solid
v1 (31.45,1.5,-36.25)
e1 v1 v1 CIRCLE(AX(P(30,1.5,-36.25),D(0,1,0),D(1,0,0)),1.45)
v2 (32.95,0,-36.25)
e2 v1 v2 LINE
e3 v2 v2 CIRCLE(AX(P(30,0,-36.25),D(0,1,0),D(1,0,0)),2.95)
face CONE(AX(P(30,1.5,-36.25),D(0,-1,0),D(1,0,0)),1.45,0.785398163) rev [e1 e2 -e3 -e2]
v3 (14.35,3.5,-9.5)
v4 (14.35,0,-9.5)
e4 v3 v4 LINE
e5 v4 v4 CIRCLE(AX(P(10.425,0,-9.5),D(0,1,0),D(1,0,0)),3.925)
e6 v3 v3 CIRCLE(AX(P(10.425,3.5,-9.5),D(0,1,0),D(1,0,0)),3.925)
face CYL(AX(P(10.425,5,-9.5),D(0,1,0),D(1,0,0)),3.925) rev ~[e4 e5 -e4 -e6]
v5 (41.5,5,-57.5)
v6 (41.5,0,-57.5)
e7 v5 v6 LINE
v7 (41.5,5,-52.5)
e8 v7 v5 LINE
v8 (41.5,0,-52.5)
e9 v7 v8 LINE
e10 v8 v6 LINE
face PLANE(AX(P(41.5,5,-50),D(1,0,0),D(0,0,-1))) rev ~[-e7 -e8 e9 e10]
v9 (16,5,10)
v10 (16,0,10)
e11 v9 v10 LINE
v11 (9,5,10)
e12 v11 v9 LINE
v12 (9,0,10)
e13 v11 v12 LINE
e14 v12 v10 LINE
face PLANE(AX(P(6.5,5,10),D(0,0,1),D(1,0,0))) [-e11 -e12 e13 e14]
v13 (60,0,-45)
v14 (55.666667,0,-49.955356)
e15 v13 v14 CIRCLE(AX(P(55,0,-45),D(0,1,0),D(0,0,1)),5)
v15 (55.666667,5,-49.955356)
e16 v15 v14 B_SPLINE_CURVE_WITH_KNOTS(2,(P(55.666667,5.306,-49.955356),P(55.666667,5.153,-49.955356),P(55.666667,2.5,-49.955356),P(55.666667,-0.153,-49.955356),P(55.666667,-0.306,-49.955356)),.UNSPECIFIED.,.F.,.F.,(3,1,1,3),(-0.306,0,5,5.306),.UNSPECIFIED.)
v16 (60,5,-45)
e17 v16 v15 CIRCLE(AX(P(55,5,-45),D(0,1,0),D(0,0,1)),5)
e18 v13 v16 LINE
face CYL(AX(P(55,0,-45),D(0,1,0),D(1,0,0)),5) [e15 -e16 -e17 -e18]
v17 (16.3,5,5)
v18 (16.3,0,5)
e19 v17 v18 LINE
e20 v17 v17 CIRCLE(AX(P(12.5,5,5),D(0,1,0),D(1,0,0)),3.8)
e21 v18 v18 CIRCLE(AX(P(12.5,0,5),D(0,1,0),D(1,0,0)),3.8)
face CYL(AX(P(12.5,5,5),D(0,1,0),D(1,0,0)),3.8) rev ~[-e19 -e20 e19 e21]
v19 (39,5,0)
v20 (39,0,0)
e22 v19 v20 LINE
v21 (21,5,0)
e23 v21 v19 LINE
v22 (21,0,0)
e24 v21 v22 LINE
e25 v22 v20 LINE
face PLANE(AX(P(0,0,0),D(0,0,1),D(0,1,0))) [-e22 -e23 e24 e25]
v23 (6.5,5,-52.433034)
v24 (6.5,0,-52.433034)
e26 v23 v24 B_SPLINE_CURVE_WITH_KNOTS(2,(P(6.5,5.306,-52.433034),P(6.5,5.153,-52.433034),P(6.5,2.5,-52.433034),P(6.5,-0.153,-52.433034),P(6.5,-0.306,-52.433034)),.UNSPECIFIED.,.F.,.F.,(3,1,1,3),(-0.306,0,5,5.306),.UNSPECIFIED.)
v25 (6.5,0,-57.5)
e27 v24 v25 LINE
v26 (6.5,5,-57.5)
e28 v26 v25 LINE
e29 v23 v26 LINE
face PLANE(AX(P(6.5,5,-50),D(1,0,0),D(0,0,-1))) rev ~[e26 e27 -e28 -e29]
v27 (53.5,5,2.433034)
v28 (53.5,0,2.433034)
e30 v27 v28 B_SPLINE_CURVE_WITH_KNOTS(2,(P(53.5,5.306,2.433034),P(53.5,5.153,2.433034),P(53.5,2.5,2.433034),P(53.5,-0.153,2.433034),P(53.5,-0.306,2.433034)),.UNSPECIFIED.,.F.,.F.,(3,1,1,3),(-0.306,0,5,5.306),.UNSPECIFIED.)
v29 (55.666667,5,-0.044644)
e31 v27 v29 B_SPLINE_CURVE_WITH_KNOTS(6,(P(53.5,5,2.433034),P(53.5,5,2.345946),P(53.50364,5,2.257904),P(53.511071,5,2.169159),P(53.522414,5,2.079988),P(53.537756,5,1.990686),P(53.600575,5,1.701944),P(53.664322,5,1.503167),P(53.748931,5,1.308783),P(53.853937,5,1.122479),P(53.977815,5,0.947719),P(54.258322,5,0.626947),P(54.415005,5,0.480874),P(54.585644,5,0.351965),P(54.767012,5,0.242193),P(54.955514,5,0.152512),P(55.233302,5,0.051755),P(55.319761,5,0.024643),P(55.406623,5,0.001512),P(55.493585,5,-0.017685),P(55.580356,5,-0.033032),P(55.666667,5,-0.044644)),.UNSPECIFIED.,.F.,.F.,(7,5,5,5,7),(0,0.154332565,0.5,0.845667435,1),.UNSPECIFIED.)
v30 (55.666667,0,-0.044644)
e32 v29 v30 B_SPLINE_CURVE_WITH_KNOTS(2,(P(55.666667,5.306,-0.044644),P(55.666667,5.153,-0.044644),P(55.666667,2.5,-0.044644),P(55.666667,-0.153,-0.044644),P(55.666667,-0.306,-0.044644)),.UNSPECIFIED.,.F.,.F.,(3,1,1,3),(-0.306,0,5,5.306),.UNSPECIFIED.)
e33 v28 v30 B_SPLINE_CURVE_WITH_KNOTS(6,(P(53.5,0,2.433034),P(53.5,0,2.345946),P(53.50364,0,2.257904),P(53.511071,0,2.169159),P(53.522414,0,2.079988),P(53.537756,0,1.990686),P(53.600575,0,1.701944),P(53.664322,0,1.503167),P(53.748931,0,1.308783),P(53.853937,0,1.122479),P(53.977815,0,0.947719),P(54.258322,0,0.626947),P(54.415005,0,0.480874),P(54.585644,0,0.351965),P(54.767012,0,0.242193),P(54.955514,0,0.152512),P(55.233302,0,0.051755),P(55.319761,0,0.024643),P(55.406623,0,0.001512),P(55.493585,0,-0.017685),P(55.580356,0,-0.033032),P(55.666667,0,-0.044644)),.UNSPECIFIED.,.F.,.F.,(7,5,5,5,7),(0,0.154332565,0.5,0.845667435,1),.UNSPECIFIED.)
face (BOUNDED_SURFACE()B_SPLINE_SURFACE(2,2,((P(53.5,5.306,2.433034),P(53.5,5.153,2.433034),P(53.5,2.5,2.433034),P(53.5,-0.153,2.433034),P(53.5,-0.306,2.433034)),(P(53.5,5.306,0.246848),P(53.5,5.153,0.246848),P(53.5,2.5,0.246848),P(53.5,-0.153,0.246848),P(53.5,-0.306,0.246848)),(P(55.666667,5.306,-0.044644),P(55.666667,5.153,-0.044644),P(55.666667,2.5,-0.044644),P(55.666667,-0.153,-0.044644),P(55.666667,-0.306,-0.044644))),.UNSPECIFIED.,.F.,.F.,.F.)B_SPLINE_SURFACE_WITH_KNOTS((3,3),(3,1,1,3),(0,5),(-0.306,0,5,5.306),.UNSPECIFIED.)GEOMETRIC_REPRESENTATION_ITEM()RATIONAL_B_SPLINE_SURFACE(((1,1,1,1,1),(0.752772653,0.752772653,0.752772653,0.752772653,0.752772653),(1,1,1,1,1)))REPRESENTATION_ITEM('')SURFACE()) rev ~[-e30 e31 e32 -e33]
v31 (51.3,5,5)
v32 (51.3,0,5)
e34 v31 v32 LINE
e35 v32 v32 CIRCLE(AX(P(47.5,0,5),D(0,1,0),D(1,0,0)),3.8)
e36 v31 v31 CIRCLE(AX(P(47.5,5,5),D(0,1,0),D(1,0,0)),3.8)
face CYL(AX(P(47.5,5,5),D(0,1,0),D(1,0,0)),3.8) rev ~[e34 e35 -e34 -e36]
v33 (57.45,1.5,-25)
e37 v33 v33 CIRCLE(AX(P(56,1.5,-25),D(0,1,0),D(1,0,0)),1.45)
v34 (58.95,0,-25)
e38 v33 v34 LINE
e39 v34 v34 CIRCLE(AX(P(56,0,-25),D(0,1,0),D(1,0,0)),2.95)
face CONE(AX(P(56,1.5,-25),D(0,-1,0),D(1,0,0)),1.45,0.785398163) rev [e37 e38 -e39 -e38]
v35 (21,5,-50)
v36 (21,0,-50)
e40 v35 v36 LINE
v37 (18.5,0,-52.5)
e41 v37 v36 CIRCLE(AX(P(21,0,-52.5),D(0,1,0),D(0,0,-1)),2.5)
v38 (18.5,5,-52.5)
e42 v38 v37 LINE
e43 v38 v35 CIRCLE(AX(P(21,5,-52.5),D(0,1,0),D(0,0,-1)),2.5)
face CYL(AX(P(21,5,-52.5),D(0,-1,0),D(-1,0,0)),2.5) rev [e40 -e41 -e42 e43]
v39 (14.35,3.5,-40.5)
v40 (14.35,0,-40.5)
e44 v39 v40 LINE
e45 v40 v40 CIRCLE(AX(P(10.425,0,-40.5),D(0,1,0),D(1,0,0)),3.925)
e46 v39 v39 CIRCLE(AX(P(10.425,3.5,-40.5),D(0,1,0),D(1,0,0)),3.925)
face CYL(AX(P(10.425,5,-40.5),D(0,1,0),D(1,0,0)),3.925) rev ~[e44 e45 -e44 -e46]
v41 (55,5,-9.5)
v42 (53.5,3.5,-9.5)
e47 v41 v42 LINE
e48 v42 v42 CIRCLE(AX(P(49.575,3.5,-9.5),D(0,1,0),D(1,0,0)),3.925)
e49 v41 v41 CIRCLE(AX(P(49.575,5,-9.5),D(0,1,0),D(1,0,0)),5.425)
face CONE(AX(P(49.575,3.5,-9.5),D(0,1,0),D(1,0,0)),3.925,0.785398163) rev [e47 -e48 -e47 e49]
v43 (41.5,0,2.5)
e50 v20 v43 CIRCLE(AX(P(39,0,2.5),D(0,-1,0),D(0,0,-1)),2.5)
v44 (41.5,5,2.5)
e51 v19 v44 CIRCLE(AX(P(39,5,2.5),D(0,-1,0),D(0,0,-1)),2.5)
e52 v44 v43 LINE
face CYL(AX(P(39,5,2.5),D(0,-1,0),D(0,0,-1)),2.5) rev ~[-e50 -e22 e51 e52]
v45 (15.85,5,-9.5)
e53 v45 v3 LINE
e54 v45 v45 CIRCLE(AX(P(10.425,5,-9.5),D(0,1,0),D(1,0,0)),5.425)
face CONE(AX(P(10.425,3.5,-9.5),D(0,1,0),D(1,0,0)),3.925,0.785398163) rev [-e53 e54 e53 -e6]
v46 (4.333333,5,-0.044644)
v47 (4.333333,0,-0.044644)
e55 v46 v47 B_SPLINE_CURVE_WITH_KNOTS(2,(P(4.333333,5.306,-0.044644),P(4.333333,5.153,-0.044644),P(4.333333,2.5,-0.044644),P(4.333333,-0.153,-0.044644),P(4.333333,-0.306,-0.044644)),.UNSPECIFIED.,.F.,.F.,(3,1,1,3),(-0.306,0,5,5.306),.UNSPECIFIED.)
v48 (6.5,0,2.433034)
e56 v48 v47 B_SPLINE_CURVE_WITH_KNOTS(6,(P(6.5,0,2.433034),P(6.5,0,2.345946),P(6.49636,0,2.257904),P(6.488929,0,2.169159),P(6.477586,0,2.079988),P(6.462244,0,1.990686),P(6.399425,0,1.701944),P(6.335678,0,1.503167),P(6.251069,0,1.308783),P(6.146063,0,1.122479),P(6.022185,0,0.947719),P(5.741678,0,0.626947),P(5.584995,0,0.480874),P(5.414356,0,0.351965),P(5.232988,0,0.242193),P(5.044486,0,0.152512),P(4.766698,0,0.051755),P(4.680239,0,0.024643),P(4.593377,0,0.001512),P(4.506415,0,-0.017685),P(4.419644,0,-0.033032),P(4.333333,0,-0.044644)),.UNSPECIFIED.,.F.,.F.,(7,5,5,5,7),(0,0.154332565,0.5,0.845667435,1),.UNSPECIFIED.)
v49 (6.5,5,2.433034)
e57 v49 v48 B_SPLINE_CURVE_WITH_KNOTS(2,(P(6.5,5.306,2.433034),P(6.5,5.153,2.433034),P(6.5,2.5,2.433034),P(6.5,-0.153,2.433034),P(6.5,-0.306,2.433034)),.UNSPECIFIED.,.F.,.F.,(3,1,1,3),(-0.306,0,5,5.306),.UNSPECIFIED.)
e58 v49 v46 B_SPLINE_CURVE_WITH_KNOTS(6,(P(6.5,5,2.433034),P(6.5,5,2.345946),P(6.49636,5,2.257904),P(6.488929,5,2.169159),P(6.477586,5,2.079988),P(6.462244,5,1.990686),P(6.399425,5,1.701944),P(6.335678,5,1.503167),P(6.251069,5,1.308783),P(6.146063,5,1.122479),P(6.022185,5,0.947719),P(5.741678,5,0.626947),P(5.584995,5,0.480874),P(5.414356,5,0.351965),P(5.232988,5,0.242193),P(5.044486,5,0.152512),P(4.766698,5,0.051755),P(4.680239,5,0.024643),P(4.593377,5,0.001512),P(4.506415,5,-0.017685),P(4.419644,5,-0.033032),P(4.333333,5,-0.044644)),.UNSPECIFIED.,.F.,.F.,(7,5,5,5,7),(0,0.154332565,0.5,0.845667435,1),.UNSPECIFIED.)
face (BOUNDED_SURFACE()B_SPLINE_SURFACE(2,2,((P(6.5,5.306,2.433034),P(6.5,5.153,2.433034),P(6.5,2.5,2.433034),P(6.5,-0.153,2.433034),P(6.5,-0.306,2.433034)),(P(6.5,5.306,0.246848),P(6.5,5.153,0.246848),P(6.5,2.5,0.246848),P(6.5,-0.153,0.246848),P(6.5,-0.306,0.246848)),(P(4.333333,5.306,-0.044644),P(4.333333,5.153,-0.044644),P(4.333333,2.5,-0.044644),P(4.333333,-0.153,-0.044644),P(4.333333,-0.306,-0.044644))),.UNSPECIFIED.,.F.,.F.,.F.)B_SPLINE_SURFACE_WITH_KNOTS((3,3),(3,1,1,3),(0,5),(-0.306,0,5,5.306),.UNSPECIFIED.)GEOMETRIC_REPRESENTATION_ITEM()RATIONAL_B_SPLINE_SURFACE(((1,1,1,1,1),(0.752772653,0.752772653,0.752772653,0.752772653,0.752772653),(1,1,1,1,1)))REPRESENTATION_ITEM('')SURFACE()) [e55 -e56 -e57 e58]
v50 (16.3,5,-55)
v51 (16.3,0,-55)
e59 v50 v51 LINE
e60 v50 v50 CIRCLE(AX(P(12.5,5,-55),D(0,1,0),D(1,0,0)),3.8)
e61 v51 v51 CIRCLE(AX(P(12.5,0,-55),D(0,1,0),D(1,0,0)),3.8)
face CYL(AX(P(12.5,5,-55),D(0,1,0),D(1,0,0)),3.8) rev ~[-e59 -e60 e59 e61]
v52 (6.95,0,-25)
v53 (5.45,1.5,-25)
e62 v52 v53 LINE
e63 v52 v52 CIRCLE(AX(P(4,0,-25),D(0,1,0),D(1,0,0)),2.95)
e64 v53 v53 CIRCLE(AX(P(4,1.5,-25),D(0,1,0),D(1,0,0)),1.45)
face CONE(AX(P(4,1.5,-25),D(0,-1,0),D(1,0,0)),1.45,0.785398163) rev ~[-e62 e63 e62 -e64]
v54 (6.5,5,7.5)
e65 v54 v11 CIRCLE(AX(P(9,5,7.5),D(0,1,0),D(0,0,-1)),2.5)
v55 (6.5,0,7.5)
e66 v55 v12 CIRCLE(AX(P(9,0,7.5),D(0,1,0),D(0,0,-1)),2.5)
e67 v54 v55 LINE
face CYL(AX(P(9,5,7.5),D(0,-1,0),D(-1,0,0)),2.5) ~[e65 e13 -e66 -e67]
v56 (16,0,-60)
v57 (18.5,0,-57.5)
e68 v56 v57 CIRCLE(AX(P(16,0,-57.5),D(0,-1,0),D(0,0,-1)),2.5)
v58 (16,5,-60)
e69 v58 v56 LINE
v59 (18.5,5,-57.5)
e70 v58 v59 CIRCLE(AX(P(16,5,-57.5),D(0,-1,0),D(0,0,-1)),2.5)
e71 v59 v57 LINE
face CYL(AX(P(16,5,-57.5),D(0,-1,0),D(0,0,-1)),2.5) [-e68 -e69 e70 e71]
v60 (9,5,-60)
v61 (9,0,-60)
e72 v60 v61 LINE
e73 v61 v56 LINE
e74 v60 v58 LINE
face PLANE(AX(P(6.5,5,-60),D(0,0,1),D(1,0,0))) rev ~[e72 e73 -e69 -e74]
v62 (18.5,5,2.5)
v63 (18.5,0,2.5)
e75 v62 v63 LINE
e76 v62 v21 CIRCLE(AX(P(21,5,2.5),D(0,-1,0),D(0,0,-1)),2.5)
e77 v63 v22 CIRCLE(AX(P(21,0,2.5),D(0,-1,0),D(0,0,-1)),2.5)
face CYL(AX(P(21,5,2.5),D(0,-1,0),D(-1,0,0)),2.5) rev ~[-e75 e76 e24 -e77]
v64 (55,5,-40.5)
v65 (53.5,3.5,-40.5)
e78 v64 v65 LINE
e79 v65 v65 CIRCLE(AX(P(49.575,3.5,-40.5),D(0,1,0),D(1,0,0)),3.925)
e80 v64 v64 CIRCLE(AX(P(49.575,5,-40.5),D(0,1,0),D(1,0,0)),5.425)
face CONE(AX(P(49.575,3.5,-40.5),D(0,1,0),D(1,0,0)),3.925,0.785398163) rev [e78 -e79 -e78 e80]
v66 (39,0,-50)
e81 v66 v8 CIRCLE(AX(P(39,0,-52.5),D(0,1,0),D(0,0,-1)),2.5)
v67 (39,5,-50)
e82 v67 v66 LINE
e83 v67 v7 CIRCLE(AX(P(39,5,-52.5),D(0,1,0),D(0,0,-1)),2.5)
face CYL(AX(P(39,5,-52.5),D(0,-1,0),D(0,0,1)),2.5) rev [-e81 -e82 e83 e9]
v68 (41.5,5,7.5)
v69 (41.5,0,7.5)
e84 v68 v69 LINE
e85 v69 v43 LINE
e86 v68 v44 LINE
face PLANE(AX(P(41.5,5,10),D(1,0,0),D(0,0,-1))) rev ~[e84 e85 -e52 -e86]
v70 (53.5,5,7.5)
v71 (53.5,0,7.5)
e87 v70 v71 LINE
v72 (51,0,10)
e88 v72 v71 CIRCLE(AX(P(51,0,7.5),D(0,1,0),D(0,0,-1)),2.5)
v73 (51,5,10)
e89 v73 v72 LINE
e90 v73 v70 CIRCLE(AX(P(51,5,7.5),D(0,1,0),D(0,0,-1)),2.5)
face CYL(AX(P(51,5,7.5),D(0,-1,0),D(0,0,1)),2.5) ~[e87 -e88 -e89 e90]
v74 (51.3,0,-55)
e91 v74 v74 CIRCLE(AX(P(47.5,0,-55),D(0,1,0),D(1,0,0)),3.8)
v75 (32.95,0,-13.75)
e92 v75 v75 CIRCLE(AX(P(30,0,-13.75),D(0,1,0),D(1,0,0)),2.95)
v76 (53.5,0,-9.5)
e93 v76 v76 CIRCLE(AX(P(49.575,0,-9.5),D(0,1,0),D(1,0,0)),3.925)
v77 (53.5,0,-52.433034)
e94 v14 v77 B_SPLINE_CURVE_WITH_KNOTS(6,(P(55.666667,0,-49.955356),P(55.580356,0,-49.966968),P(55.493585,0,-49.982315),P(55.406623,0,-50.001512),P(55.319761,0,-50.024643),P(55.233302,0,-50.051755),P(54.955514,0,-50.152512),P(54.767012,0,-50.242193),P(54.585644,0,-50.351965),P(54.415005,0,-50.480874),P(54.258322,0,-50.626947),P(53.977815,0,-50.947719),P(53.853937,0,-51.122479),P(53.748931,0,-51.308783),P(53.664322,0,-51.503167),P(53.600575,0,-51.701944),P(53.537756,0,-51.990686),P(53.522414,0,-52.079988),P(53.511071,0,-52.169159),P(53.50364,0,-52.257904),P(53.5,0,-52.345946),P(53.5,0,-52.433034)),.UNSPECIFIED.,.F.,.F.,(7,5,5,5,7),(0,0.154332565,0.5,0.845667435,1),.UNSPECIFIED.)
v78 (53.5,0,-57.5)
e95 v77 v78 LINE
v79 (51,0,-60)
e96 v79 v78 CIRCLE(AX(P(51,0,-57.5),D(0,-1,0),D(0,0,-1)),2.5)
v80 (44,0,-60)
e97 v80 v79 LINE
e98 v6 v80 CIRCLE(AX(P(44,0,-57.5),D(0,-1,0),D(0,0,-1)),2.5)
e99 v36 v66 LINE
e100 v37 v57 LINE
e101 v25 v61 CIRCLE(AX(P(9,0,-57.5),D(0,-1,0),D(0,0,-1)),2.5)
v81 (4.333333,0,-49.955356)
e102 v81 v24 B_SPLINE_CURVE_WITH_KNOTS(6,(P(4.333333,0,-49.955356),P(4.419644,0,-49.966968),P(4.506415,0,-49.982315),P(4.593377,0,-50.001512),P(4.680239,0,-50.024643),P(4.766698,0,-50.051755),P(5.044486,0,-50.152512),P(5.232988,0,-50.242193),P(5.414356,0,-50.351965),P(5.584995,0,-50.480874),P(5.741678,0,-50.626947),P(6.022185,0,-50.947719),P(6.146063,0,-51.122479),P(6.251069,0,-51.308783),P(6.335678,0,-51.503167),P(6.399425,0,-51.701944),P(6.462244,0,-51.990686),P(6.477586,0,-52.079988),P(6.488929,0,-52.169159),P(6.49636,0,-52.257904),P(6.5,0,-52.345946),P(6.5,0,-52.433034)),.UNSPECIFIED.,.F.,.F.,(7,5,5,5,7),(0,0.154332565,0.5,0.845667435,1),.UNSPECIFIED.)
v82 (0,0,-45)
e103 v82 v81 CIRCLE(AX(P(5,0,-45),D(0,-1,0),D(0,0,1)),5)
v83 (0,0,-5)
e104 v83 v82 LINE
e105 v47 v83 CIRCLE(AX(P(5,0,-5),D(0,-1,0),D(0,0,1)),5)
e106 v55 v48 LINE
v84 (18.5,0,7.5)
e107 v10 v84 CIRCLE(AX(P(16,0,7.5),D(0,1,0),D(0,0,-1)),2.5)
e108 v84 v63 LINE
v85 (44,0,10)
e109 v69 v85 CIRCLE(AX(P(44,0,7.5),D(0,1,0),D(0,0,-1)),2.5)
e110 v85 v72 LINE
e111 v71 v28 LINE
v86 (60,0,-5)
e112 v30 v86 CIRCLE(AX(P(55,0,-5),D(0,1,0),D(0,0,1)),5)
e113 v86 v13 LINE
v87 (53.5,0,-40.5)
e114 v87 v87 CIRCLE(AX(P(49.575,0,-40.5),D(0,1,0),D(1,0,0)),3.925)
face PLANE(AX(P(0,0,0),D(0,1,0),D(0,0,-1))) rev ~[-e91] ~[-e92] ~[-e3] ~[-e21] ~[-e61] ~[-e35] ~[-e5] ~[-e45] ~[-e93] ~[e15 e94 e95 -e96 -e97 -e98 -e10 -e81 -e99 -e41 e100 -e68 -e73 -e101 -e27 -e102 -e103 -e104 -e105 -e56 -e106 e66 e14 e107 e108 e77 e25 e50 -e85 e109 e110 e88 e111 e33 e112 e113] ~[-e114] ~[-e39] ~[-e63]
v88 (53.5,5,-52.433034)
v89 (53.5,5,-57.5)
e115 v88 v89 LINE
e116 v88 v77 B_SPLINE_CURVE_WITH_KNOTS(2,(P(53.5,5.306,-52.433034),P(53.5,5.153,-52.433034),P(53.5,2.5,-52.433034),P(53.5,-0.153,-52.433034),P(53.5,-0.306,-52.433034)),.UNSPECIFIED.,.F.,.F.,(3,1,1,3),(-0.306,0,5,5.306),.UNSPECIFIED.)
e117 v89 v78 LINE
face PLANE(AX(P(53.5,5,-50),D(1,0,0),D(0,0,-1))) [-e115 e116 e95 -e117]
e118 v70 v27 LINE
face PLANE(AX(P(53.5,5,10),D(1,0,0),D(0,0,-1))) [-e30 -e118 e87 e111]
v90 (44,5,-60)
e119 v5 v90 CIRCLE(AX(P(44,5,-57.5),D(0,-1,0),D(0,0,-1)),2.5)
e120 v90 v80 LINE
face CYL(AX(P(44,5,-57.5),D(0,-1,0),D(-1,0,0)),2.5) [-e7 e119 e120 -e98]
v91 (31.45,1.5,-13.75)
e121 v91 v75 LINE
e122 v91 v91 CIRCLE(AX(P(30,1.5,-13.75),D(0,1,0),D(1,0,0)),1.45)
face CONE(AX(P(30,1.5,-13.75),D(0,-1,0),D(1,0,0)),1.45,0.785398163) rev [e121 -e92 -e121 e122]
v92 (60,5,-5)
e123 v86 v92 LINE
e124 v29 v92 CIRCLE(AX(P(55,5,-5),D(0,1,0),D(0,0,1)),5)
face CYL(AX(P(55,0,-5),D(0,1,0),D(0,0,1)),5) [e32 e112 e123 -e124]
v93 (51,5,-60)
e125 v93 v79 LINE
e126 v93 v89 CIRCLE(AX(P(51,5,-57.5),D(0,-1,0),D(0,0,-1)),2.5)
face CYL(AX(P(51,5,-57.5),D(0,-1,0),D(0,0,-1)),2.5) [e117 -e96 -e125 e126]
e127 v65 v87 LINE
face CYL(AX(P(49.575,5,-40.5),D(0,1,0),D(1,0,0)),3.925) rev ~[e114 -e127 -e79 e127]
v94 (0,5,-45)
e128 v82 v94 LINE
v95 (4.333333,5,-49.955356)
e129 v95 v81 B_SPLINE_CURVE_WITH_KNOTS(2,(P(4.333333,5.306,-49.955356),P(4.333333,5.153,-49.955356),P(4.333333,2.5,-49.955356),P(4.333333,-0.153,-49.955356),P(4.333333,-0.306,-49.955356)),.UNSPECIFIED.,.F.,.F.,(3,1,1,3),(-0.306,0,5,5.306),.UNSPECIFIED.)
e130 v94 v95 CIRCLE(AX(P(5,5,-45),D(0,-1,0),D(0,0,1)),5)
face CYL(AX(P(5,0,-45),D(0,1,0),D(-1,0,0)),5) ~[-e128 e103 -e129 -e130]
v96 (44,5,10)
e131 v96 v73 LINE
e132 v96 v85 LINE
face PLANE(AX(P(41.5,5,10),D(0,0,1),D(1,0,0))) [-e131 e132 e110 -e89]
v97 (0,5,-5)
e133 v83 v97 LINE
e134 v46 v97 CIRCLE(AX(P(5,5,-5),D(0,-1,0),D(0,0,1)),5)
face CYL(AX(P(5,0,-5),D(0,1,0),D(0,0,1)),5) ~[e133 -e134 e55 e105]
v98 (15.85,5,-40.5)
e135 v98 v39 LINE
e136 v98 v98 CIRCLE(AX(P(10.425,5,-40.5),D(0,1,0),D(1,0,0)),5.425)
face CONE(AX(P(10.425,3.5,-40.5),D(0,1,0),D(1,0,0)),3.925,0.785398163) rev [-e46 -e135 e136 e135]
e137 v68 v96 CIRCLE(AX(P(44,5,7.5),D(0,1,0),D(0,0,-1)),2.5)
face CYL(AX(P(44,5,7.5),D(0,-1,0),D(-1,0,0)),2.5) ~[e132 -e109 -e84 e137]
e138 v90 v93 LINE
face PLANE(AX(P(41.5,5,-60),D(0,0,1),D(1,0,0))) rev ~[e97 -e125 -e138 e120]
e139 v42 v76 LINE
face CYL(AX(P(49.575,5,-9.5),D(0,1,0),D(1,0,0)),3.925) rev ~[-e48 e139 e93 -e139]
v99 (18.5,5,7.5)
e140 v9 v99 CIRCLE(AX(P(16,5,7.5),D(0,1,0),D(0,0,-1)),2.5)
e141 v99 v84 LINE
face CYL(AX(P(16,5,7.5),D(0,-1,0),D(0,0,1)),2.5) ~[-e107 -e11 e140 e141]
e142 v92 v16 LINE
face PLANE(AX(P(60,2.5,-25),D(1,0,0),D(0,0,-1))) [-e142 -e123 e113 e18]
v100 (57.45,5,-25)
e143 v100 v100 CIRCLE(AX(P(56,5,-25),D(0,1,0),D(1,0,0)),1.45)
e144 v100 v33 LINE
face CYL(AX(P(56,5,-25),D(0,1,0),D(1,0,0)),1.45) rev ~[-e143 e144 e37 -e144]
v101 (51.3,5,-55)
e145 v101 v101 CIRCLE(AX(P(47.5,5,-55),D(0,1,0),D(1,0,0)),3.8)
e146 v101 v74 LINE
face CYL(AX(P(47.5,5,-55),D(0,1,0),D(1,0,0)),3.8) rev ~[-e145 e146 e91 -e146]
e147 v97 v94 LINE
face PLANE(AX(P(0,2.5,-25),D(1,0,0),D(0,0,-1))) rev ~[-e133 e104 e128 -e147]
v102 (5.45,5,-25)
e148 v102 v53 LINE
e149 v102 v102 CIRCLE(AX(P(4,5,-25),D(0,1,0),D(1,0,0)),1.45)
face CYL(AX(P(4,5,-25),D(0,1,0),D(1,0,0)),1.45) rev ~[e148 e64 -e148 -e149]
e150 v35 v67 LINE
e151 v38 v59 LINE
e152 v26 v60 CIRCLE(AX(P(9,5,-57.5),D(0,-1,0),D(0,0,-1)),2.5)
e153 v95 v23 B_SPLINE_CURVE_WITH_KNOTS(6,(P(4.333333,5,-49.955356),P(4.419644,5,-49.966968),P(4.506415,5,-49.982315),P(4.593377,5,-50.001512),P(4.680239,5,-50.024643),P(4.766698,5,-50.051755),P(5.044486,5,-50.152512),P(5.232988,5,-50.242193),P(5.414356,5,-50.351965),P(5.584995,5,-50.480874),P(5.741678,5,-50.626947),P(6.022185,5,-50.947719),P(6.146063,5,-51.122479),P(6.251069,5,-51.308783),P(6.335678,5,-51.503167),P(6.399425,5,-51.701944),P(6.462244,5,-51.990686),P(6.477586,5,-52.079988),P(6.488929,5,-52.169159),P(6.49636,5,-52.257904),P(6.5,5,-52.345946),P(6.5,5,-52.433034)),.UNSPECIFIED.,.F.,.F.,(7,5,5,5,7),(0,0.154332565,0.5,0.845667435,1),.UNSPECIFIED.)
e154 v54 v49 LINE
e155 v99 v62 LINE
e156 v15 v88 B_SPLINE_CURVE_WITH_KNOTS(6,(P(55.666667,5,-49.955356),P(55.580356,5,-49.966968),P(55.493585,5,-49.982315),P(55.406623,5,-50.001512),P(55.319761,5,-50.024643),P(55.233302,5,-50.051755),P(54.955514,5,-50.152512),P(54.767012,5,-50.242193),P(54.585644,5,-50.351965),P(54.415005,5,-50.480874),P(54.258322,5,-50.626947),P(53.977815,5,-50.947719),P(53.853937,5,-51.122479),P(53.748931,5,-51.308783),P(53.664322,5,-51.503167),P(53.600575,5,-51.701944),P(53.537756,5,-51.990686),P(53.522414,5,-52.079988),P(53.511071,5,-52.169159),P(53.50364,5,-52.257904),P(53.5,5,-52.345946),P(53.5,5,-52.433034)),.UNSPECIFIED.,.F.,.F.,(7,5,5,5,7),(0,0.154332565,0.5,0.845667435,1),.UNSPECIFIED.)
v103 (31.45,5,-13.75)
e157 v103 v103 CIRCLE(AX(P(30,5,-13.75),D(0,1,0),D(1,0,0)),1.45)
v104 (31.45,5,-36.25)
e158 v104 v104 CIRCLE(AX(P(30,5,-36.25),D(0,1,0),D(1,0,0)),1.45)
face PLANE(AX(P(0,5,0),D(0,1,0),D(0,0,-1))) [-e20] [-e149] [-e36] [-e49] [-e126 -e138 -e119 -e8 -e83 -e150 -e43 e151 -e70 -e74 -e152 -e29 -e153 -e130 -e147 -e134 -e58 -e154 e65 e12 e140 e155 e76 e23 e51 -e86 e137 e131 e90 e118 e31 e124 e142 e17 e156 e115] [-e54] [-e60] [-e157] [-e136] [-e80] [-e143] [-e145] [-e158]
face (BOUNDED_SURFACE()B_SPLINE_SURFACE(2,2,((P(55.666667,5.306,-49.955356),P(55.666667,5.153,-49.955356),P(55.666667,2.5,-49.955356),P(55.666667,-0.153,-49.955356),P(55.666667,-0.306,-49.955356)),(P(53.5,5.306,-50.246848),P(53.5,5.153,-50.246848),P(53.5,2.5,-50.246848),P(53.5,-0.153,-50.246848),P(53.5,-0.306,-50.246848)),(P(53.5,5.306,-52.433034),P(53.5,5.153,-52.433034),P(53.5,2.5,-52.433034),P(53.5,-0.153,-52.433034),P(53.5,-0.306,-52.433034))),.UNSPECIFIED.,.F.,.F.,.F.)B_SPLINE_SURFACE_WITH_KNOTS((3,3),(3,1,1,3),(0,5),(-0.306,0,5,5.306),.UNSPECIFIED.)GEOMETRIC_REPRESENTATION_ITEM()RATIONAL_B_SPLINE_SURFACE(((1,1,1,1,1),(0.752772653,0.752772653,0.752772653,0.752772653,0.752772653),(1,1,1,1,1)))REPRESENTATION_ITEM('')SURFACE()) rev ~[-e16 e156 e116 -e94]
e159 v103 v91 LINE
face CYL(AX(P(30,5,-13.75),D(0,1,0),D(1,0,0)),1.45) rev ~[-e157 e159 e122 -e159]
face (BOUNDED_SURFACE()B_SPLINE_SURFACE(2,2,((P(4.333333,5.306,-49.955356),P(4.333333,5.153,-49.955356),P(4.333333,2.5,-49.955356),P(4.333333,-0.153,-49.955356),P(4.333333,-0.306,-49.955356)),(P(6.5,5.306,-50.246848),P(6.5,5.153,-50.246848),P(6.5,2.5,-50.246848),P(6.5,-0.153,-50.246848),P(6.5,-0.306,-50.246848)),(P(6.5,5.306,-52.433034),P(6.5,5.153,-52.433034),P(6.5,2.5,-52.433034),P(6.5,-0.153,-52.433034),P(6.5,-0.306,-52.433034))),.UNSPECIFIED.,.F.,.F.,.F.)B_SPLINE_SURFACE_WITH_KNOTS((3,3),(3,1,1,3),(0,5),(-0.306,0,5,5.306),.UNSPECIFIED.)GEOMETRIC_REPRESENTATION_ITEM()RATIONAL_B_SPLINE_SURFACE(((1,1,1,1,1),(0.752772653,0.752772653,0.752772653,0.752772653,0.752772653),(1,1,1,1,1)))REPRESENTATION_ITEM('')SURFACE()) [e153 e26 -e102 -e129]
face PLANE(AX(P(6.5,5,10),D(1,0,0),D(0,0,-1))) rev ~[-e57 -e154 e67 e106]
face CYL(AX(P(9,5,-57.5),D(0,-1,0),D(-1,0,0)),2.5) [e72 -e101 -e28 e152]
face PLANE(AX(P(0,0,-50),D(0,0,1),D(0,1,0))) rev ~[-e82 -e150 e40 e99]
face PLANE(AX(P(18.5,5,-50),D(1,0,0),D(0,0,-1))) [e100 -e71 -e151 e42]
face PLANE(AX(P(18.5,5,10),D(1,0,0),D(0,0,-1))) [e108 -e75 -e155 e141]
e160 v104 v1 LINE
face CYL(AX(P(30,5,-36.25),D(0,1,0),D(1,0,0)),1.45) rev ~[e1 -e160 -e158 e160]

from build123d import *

# Parameters (mm, degrees)
SKETCH1_W           = 50
SKETCH1_H           = 5
BOSS_EXTRUDE1_DEPTH = 60
SKETCH2_R           = 3.925
SKETCH2_R_2         = 1.45
CUT_EXTRUDE1_DEPTH  = 79.262379212
CHAMFER1_SIZE       = 1.5
FILLET2_R           = 5
SKETCH2_3_W         = 12
SKETCH2_3_H         = 10
SKETCH2_3_R         = 3.8
BOSS_EXTRUDE2_DEPTH = 5
FILLET5_R           = 2.5
FILLET6_R           = 2.5
CHAMFER2_SIZE       = 1.5
CHAMFER3_SIZE       = 1.5


with BuildPart() as part:
    # Sketch1 → Boss-Extrude1 (new body)
    with BuildSketch(Plane(origin=(0, 0, 0), x_dir=(0, 0, -1), z_dir=(1, 0, 0))):
        with Locations((25, 2.5)):
            Rectangle(SKETCH1_W, SKETCH1_H)
    extrude(amount=BOSS_EXTRUDE1_DEPTH)

    # Sketch2 → Cut-Extrude1 (cut, through all)
    with BuildSketch(Plane(origin=(0, 5, 0), x_dir=(1, 0, 0), z_dir=(0, 1, 0))):
        with Locations((49.575, 40.5)):
            Circle(SKETCH2_R)
        with Locations((10.425, 40.5)):
            Circle(SKETCH2_R)
        with Locations((10.425, 9.5)):
            Circle(SKETCH2_R)
        with Locations((49.575, 9.5)):
            Circle(SKETCH2_R)
        with Locations((30, 36.25)):
            Circle(SKETCH2_R_2)
        with Locations((30, 13.75)):
            Circle(SKETCH2_R_2)
        with Locations((56, 25)):
            Circle(SKETCH2_R_2)
        with Locations((4, 25)):
            Circle(SKETCH2_R_2)
    extrude(amount=-CUT_EXTRUDE1_DEPTH, mode=Mode.SUBTRACT)

    # Chamfer1
    chamfer1_edges = [part.edges().sort_by_distance(p)[0] for p in [
        (6.5, 5, -9.5),
        (45.65, 5, -9.5),
        (6.5, 5, -40.5),
        (45.65, 5, -40.5),
    ]]
    chamfer(chamfer1_edges, length=CHAMFER1_SIZE)

    # Fillet2
    fillet2_edges = [part.edges().sort_by_distance(p)[0] for p in [
        (0, 2.5, -50),
        (0, 2.5, 0),
        (60, 2.5, 0),
        (60, 2.5, -50),
    ]]
    fillet(fillet2_edges, radius=FILLET2_R)

    # Sketch2<3> → Boss-Extrude2 (add)
    # profile 1 of 4: a face of its own
    with BuildSketch(Plane(origin=(0, 5, 0), x_dir=(1, 0, 0), z_dir=(0, 1, 0))):
        with Locations((47.5, 55)):
            Rectangle(SKETCH2_3_W, SKETCH2_3_H)
        with Locations((47.5, 55)):
            Circle(SKETCH2_3_R, mode=Mode.SUBTRACT)
    # profile 2 of 4: a face of its own
    with BuildSketch(Plane(origin=(0, 5, 0), x_dir=(1, 0, 0), z_dir=(0, 1, 0))):
        with Locations((12.5, 55)):
            Rectangle(SKETCH2_3_W, SKETCH2_3_H)
        with Locations((12.5, 55)):
            Circle(SKETCH2_3_R, mode=Mode.SUBTRACT)
    # profile 3 of 4: a face of its own
    with BuildSketch(Plane(origin=(0, 5, 0), x_dir=(1, 0, 0), z_dir=(0, 1, 0))):
        with Locations((47.5, -5)):
            Rectangle(SKETCH2_3_W, SKETCH2_3_H)
        with Locations((47.5, -5)):
            Circle(SKETCH2_3_R, mode=Mode.SUBTRACT)
    # profile 4 of 4: a face of its own
    with BuildSketch(Plane(origin=(0, 5, 0), x_dir=(1, 0, 0), z_dir=(0, 1, 0))):
        with Locations((12.5, -5)):
            Rectangle(SKETCH2_3_W, SKETCH2_3_H)
        with Locations((12.5, -5)):
            Circle(SKETCH2_3_R, mode=Mode.SUBTRACT)
    extrude(amount=-BOSS_EXTRUDE2_DEPTH)

    # Fillet5
    fillet5_edges = [part.edges().sort_by_distance(p)[0] for p in [
        (41.5, 2.5, 10),
        (53.5, 2.5, 10),
        (6.5, 2.5, 10),
        (18.5, 2.5, 10),
        (53.5, 2.5, -60),
        (41.5, 2.5, -60),
        (6.5, 2.5, -60),
        (18.5, 2.5, -60),
    ]]
    fillet(fillet5_edges, radius=FILLET5_R)

    # Fillet6
    fillet6_edges = [part.edges().sort_by_distance(p)[0] for p in [
        (18.5, 2.5, 0),
        (53.5, 2.5, 0),
        (6.5, 2.5, 0),
        (41.5, 2.5, 0),
        (6.5, 2.5, -50),
        (41.5, 2.5, -50),
        (53.5, 2.5, -50),
        (18.5, 2.5, -50),
    ]]
    fillet(fillet6_edges, radius=FILLET6_R)

    # Chamfer2
    chamfer2_edges = [part.edges().sort_by_distance(p)[0] for p in [
        (28.55, 0, -13.75),
        (54.55, 0, -25),
        (28.55, 0, -36.25),
    ]]
    chamfer(chamfer2_edges, length=CHAMFER2_SIZE)

    # Chamfer3
    chamfer3_edges = [part.edges().sort_by_distance(p)[0] for p in [
        (2.55, 0, -25),
    ]]
    chamfer(chamfer3_edges, length=CHAMFER3_SIZE)


solid = part.part
